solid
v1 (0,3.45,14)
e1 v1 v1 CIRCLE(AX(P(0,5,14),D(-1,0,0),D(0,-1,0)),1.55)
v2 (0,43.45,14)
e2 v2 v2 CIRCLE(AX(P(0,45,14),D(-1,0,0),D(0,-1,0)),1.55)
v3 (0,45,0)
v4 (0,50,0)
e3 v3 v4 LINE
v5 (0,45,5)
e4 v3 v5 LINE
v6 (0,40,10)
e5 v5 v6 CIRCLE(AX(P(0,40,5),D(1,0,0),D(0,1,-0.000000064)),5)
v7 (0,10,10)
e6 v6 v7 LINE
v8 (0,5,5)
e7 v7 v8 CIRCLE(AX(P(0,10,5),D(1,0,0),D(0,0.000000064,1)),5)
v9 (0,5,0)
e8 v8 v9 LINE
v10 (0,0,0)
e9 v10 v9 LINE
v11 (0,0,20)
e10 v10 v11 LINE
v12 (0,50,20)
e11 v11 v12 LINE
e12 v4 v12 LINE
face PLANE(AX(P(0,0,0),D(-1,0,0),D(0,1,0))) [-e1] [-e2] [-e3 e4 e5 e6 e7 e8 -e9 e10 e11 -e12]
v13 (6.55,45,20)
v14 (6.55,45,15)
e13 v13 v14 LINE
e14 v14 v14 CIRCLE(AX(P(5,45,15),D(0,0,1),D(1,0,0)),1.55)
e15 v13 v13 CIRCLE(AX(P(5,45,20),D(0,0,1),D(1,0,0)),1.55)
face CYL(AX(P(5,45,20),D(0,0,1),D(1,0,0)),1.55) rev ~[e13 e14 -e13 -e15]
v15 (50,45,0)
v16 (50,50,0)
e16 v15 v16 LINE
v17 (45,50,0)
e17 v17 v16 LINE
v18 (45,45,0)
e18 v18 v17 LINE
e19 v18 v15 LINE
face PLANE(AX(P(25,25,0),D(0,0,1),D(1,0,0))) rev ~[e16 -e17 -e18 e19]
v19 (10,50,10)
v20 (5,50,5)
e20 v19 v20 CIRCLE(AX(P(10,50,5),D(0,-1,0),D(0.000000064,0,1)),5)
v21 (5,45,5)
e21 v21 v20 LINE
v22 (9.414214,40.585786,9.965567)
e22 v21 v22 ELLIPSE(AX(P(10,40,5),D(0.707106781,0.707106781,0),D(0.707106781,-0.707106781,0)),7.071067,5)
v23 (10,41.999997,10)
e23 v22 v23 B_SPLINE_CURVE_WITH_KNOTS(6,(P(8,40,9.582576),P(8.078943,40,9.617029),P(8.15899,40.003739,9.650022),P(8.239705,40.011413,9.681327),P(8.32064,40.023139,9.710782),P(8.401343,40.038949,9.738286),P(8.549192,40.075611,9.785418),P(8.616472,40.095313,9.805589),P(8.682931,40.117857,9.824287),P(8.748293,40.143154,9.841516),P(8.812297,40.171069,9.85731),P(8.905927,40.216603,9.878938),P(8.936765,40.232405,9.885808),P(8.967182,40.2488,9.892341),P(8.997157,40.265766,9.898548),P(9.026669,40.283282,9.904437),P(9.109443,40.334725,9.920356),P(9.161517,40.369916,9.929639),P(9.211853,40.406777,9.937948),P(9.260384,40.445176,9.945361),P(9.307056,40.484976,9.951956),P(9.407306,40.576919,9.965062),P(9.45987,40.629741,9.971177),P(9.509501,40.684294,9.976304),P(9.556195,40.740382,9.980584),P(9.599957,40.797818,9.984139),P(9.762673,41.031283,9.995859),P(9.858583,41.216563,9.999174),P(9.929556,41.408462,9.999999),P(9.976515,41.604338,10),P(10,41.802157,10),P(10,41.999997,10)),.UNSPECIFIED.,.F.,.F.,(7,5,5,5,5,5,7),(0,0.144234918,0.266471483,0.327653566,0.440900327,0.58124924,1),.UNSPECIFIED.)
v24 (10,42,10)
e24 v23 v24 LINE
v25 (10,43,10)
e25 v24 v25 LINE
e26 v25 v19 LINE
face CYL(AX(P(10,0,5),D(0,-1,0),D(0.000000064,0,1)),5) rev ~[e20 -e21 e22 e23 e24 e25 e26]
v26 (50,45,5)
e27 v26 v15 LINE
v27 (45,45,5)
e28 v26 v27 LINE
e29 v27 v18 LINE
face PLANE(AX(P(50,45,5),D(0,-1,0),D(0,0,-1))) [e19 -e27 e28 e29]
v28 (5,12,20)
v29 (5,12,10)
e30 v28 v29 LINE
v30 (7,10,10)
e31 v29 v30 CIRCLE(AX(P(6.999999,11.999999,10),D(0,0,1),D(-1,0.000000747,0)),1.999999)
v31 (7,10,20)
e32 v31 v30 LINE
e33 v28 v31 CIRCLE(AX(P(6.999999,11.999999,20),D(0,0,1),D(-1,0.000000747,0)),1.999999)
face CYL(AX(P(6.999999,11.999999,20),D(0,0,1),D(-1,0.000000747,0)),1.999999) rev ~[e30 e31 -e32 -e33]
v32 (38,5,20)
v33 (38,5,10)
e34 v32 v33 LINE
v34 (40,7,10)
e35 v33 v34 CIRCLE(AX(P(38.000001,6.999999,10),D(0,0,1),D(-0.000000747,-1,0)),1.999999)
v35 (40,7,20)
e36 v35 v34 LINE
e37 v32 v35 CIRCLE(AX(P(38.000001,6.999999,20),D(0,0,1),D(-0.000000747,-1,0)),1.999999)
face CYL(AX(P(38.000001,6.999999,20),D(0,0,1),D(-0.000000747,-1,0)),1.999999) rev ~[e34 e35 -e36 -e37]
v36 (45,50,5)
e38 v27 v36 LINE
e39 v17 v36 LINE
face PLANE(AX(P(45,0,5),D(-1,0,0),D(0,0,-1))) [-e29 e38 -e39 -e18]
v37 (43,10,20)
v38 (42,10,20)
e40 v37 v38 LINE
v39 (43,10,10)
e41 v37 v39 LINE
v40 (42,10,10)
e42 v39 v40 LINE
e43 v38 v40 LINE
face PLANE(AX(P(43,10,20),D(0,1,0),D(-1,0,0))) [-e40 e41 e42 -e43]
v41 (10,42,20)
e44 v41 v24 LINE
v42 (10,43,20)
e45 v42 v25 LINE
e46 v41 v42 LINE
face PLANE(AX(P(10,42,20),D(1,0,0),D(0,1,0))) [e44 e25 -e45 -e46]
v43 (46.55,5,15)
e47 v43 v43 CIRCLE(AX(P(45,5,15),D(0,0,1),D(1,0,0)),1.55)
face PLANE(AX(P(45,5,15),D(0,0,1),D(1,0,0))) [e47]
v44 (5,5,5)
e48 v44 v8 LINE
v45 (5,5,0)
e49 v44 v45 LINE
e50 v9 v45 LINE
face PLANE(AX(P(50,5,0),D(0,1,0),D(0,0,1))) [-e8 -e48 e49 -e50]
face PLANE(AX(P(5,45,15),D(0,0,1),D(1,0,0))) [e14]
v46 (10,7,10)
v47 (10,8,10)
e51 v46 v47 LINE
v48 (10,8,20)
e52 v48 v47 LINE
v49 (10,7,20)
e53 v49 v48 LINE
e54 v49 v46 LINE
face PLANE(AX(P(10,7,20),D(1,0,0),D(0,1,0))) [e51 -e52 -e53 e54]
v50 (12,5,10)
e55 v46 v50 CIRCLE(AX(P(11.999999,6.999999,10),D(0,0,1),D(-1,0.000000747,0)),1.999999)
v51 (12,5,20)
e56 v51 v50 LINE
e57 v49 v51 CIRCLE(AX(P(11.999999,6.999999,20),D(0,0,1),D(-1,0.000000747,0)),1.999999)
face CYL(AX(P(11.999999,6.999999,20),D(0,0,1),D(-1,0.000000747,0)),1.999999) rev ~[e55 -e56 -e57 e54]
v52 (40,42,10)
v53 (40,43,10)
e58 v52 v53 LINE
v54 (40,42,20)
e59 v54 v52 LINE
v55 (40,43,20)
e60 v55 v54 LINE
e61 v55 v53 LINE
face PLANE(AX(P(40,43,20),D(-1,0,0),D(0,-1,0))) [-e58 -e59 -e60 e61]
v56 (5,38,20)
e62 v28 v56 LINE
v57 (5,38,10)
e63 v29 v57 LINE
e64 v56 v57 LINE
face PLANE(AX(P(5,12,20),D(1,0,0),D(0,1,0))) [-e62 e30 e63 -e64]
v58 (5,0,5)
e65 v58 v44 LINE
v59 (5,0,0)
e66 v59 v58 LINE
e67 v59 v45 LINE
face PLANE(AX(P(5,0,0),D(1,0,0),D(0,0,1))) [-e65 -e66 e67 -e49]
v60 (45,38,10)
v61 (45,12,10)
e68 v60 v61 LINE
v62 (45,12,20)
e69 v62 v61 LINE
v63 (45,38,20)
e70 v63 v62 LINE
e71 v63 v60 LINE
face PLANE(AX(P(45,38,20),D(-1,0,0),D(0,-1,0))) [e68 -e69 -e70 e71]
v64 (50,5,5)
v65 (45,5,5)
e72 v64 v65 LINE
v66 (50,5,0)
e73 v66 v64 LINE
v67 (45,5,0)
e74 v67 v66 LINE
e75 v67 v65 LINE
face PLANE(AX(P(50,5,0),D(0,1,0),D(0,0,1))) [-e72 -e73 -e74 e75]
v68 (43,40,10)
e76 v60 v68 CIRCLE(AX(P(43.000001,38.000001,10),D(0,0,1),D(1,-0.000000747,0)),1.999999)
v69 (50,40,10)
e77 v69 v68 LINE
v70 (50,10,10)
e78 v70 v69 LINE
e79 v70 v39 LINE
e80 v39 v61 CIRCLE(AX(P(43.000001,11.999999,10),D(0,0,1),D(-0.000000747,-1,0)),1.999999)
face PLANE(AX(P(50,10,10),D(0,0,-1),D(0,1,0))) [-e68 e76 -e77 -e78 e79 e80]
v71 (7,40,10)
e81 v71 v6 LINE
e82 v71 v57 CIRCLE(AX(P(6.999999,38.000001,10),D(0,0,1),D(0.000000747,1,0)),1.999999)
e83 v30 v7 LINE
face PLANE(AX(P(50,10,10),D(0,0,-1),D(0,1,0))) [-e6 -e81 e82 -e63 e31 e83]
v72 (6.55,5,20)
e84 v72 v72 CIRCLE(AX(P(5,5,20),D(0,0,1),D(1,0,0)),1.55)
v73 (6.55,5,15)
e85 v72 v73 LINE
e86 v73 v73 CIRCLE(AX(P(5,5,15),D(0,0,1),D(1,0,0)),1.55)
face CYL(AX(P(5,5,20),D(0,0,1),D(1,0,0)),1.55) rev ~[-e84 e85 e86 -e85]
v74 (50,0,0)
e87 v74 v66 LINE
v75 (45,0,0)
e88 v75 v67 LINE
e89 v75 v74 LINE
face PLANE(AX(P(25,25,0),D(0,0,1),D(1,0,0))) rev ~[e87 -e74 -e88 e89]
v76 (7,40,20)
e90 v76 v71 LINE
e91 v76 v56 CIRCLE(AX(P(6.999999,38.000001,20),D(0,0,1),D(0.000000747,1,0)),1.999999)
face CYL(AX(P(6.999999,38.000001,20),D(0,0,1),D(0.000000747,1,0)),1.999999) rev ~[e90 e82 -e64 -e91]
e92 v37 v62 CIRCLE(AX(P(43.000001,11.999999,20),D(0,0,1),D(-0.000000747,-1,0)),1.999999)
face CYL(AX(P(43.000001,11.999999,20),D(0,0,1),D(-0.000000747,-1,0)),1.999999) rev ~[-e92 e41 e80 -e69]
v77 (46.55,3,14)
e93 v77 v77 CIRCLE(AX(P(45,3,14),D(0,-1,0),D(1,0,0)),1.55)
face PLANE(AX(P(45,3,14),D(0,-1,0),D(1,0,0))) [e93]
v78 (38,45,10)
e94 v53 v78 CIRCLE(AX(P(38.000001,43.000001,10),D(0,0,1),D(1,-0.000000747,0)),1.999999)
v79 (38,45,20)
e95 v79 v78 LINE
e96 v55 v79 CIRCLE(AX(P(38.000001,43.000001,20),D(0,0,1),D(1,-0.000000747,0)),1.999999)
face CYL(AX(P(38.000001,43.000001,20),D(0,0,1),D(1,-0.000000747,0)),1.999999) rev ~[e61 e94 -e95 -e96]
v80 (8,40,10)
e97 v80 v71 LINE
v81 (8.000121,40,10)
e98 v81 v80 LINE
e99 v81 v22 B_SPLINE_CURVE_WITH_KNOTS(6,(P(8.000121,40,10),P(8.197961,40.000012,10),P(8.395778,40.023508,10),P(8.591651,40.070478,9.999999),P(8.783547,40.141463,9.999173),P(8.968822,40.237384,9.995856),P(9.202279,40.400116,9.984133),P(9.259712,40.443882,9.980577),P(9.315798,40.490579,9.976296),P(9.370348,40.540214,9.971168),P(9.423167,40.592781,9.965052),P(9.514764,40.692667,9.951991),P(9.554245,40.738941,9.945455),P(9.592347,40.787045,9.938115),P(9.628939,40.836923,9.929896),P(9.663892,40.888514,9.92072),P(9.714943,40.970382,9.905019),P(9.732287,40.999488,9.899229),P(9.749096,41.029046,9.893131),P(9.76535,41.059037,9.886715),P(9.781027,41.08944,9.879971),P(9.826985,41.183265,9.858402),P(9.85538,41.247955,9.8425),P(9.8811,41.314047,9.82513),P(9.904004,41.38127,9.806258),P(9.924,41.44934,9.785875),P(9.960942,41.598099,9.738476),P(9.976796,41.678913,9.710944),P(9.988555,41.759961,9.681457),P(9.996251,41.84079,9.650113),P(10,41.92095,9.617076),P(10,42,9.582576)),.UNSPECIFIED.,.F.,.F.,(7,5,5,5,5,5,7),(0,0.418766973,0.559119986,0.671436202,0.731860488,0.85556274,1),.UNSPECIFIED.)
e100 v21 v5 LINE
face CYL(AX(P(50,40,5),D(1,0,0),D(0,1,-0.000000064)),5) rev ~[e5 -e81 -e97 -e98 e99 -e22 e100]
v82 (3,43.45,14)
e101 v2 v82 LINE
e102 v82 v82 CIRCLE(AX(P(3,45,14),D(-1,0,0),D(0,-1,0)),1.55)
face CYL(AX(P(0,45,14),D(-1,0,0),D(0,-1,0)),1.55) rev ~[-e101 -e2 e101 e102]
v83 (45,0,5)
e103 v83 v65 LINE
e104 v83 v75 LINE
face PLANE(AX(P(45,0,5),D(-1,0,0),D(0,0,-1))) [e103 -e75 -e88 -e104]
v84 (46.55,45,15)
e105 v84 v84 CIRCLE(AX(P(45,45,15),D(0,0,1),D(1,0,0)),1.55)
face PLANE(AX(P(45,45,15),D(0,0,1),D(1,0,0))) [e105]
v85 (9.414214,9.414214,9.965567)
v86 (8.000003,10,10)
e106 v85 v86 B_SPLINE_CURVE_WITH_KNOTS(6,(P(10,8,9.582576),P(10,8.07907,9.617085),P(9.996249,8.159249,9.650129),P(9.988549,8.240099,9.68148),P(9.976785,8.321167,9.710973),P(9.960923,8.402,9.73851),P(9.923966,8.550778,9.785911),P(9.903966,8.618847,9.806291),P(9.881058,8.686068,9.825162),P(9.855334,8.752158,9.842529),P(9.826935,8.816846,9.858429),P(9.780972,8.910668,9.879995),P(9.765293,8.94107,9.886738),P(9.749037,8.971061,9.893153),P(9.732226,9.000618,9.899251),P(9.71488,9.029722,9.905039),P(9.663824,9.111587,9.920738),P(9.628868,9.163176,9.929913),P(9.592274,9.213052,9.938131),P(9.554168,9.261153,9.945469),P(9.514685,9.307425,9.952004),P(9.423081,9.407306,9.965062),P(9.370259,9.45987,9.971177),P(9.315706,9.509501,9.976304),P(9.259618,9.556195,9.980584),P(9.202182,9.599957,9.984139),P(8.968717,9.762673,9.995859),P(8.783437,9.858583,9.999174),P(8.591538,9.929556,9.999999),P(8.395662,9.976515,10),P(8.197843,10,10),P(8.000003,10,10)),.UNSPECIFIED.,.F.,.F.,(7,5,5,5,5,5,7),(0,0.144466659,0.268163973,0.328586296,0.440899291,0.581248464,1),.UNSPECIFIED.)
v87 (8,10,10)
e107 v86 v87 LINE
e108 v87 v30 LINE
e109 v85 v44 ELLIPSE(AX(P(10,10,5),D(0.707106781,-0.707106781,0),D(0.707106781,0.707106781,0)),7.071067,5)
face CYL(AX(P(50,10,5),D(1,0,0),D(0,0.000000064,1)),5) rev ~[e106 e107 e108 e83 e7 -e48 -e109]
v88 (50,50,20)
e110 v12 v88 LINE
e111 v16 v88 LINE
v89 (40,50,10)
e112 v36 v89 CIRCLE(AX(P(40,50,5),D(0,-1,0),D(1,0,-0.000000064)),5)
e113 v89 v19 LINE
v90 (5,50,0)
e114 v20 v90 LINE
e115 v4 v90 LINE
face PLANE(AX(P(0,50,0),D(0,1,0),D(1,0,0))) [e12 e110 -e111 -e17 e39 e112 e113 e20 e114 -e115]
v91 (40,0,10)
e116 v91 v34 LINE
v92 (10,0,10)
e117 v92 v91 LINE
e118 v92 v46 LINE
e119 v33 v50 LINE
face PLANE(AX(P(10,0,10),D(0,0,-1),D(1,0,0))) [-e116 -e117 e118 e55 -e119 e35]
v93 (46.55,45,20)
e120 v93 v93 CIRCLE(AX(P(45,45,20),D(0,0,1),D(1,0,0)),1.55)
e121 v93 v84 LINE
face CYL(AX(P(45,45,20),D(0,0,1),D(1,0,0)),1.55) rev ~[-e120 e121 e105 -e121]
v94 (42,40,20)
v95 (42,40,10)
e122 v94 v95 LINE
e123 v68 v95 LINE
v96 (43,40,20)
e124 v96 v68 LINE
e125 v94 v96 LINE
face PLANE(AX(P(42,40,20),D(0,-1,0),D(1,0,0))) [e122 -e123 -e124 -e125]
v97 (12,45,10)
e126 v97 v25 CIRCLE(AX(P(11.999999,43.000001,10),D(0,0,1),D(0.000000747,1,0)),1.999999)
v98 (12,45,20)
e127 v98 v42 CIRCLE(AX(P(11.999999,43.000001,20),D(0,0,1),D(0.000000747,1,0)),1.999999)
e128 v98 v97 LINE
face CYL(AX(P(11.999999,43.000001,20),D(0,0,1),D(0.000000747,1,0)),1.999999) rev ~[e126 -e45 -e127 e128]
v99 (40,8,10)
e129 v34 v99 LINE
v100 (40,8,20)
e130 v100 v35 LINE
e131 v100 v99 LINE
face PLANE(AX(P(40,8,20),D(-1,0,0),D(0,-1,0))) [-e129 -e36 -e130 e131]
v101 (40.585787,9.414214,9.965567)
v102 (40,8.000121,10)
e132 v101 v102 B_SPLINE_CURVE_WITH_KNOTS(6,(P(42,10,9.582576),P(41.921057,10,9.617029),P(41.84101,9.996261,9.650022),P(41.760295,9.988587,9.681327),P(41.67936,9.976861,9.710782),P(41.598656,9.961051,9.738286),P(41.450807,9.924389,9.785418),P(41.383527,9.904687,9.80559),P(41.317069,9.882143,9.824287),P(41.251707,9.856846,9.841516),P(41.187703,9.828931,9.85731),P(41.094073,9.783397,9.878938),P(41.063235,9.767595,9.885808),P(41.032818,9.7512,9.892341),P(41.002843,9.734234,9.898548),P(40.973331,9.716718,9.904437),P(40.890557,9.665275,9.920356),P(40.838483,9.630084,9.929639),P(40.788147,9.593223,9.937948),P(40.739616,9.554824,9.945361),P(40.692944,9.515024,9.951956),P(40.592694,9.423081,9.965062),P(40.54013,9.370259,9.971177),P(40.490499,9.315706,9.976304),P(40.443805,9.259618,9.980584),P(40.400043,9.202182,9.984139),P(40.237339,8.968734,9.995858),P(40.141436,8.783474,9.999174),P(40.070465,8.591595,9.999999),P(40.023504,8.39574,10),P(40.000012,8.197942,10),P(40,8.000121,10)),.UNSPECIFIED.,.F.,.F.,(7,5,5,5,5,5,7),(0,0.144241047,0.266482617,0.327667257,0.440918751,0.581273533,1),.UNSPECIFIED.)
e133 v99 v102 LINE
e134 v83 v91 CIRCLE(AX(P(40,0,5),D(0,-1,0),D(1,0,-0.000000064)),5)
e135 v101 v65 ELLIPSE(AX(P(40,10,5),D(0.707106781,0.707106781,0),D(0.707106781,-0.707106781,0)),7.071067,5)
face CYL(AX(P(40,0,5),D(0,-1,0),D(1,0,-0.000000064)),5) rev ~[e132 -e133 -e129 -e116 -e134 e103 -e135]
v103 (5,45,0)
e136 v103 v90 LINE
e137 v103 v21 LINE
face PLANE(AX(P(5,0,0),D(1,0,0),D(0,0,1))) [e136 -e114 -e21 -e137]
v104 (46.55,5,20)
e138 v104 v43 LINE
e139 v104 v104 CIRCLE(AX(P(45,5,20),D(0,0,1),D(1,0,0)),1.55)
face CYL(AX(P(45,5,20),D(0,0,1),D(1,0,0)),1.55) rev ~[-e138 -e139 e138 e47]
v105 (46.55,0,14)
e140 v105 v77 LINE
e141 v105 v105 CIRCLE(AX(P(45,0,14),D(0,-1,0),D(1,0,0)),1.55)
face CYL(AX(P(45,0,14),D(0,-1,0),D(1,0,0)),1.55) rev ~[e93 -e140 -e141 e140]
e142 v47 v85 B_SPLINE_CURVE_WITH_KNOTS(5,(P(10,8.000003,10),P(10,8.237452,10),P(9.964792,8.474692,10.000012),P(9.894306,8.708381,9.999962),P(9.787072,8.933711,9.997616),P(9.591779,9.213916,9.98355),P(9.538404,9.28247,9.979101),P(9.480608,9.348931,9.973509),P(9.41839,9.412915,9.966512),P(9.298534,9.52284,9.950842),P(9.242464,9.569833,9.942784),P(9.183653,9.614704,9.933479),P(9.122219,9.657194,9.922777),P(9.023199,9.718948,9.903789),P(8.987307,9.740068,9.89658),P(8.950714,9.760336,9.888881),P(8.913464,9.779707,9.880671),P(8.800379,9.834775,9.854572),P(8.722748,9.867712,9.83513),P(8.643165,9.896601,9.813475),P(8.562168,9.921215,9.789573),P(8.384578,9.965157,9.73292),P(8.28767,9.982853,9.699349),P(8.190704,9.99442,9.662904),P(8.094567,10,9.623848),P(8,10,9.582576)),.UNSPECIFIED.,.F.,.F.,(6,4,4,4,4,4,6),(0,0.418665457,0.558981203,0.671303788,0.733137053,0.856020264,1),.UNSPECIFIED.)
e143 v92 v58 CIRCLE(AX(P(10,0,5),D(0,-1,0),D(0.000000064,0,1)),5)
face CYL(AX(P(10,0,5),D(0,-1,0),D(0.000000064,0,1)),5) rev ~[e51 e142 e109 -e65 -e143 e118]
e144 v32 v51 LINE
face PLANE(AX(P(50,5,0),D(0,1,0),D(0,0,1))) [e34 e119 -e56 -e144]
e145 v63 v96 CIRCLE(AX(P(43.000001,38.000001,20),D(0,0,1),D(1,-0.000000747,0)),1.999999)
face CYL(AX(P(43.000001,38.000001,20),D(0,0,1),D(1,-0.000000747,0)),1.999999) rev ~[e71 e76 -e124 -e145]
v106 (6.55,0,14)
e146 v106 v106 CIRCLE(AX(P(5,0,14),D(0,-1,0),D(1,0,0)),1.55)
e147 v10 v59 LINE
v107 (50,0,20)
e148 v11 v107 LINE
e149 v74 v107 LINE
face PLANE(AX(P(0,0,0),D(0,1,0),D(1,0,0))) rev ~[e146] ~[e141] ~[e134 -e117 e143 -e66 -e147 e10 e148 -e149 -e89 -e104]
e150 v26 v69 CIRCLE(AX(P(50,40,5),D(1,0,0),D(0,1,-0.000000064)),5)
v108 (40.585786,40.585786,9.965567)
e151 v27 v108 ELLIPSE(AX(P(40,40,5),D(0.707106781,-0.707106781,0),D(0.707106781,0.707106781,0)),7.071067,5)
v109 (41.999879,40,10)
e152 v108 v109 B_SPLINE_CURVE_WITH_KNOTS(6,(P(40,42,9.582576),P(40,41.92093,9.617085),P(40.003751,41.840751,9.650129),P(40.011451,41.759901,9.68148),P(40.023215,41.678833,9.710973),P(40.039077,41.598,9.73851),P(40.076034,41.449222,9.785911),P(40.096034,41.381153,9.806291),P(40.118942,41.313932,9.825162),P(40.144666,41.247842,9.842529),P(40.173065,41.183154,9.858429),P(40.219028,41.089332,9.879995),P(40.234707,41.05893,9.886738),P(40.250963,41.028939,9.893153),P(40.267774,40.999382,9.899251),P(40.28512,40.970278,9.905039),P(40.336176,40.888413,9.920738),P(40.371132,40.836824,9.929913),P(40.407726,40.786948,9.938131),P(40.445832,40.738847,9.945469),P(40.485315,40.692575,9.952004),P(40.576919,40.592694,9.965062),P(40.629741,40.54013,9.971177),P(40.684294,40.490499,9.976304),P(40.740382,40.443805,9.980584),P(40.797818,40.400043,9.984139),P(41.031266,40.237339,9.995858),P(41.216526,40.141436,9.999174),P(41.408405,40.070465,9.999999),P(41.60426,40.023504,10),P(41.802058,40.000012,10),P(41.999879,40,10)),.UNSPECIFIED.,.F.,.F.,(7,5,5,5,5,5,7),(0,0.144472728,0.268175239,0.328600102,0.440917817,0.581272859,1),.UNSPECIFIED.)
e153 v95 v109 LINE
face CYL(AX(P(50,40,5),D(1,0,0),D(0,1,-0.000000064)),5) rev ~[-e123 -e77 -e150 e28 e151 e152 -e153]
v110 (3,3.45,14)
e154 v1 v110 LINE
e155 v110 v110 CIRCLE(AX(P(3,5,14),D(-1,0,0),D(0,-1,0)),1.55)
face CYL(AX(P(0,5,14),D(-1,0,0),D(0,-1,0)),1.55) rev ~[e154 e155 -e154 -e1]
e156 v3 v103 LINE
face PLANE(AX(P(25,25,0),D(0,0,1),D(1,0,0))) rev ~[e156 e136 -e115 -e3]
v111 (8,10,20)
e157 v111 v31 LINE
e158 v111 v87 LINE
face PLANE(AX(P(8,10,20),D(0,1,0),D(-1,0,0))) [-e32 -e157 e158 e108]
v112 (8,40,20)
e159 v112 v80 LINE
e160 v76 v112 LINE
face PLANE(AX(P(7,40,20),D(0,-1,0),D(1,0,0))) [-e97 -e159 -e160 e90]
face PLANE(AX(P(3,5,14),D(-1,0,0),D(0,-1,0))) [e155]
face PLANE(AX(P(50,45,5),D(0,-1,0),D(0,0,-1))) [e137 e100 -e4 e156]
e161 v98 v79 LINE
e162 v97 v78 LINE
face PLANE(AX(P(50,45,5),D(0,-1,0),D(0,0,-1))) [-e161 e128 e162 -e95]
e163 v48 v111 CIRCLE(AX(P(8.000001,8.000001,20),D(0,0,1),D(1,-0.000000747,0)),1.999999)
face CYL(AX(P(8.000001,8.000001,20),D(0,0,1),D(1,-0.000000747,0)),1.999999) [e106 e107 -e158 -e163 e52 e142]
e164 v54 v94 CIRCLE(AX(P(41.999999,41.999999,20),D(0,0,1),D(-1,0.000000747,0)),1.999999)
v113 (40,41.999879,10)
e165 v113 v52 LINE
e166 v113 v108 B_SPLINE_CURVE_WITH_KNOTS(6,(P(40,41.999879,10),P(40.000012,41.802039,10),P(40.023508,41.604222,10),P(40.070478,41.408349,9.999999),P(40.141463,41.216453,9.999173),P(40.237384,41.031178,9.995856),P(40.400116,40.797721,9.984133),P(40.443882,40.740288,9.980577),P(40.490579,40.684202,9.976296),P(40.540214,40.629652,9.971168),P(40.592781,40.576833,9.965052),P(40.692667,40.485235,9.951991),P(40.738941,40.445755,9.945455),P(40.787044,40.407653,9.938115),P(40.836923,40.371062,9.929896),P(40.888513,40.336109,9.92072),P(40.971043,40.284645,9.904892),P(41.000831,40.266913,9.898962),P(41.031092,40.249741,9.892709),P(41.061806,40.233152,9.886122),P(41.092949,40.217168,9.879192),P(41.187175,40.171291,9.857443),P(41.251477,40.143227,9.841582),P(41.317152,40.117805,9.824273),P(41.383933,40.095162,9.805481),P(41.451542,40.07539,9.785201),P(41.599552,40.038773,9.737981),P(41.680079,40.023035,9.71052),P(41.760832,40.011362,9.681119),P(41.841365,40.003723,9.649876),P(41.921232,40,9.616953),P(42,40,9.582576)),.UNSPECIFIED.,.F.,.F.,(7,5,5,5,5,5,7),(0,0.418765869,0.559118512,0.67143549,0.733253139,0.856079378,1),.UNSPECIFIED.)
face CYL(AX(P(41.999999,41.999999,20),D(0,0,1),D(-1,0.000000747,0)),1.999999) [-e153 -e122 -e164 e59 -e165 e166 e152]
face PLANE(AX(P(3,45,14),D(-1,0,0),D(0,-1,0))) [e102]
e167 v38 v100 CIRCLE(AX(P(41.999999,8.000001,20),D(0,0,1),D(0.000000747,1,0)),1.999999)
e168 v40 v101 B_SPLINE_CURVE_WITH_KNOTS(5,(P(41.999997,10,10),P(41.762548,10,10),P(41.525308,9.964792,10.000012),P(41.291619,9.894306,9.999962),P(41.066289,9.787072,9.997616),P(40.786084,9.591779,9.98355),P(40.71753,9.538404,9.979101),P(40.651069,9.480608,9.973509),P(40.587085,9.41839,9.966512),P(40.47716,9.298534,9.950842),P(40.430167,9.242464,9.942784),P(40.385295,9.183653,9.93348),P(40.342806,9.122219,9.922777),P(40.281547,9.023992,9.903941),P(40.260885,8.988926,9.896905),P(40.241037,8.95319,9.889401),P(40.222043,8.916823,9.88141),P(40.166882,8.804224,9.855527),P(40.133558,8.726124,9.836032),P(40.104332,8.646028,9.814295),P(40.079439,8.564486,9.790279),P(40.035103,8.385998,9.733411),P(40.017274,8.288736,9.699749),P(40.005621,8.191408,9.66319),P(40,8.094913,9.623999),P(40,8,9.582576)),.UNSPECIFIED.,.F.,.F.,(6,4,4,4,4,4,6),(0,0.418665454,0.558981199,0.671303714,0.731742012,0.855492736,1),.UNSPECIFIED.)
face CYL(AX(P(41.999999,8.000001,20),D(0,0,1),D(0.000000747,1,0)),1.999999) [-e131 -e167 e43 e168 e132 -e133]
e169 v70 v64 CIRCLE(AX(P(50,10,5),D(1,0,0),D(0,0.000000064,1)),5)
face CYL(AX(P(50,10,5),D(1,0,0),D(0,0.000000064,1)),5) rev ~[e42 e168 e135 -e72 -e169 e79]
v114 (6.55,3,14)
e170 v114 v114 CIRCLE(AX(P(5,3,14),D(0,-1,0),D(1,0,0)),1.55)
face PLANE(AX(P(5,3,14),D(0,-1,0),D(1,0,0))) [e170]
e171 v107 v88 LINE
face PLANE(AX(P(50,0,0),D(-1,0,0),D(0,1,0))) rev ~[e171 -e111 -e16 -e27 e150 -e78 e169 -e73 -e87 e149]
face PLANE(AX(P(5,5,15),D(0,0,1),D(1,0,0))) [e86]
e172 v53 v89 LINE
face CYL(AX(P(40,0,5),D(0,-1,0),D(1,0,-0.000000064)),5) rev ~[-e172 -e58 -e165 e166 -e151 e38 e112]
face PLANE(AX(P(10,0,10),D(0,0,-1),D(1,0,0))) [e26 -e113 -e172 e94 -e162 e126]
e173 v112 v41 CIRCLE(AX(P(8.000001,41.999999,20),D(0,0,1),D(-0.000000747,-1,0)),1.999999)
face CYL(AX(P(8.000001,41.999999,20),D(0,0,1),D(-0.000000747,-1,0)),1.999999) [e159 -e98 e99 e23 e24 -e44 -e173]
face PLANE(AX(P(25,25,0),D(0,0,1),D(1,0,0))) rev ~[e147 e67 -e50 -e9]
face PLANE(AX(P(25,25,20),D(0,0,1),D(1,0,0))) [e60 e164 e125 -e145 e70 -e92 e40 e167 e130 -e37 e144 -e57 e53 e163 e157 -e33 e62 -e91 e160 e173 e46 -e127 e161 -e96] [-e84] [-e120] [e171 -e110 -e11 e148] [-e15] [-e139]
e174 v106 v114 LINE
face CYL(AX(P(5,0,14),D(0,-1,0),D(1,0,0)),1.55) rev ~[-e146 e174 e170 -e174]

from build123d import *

# Parameters (mm, degrees)
SKETCH123_W     = 50
SKETCH123_H     = 50
PAD021_DEPTH    = 20
POCKET103_DEPTH = 20.001
POCKET104_DEPTH = 50.001
POCKET105_DEPTH = 50.001
SKETCH127_R     = 1.55
POCKET106_DEPTH = 5
SKETCH133_R     = 1.55
POCKET111_DEPTH = 3
SKETCH158_R     = 1.55
POCKET132_DEPTH = 3


with BuildPart() as part:
    # Sketch123 → Pad021 (new body)
    with BuildSketch(Plane.XY):
        Rectangle(SKETCH123_W, SKETCH123_H)
    extrude(amount=PAD021_DEPTH)

    # Sketch124 (on Face6 of Pad021) → Pocket103 (cut, through all)
    with BuildSketch(Plane.XY.offset(20)):
        with BuildLine():
            Line((-18, 15), (-17, 15))
            ThreePointArc((-17, 15), (-15.585786, 15.585786), (-15, 17))
            Line((-15, 17), (-15, 18))
            ThreePointArc((-13, 20), (-14.414214, 19.414214), (-15, 18))
            Line((-13, 20), (13, 20))
            ThreePointArc((15, 18), (14.414214, 19.414214), (13, 20))
            Line((15, 18), (15, 17))
            ThreePointArc((15, 17), (15.585786, 15.585786), (17, 15))
            Line((17, 15), (18, 15))
            ThreePointArc((20, 13), (19.414214, 14.414214), (18, 15))
            Line((20, 13), (20, -13))
            ThreePointArc((18, -15), (19.414214, -14.414214), (20, -13))
            Line((18, -15), (17, -15))
            ThreePointArc((17, -15), (15.585786, -15.585786), (15, -17))
            Line((15, -17), (15, -18))
            ThreePointArc((13, -20), (14.414214, -19.414214), (15, -18))
            Line((13, -20), (-13, -20))
            ThreePointArc((-15, -18), (-14.414214, -19.414214), (-13, -20))
            Line((-15, -18), (-15, -17))
            ThreePointArc((-15, -17), (-15.585786, -15.585786), (-17, -15))
            Line((-17, -15), (-18, -15))
            ThreePointArc((-20, -13), (-19.414214, -14.414214), (-18, -15))
            Line((-20, -13), (-20, 13))
            ThreePointArc((-18, 15), (-19.414214, 14.414214), (-20, 13))
        make_face()
    extrude(amount=-POCKET103_DEPTH, mode=Mode.SUBTRACT)

    # Sketch125 (on Face3 of Pocket103) → Pocket104 (cut, through all)
    with BuildSketch(Plane.YZ.offset(25)):
        with BuildLine():
            Line((-15, 10), (15, 10))
            ThreePointArc((20, 5), (18.535534, 8.535534), (15, 10))
            Line((20, 5), (20, 0))
            Line((20, 0), (-20, 0))
            Line((-20, 0), (-20, 5))
            ThreePointArc((-15, 10), (-18.535534, 8.535534), (-20, 5))
        make_face()
    extrude(amount=-POCKET104_DEPTH, mode=Mode.SUBTRACT)

    # Sketch126 (on Face6 of Pocket103) → Pocket105 (cut, through all)
    with BuildSketch(Plane.XZ.offset(25)):
        with BuildLine():
            Line((-15, 10), (15, 10))
            ThreePointArc((20, 5), (18.535534, 8.535534), (15, 10))
            Line((20, 5), (20, 0))
            Line((20, 0), (-20, 0))
            Line((-20, 0), (-20, 5))
            ThreePointArc((-15, 10), (-18.535534, 8.535534), (-20, 5))
        make_face()
    extrude(amount=-POCKET105_DEPTH, mode=Mode.SUBTRACT)

    # Sketch127 → Pocket106 (cut)
    with BuildSketch(Plane.XY.offset(20)):
        with Locations((-20, 20)):
            Circle(SKETCH127_R)
        with Locations((20, 20)):
            Circle(SKETCH127_R)
        with Locations((20, -20)):
            Circle(SKETCH127_R)
        with Locations((-20, -20)):
            Circle(SKETCH127_R)
    extrude(amount=-POCKET106_DEPTH, mode=Mode.SUBTRACT)

    # Sketch133 (on Face27 of Pocket106) → Pocket111 (cut)
    with BuildSketch(Plane.XZ.offset(25)):
        with Locations((-20, 14)):
            Circle(SKETCH133_R)
        with Locations((20, 14)):
            Circle(SKETCH133_R)
    extrude(amount=-POCKET111_DEPTH, mode=Mode.SUBTRACT)

    # Sketch158 (on Face11 of Pocket111) → Pocket132 (cut)
    with BuildSketch(Plane(origin=(-25, 0, 0), x_dir=(0, -1, 0), z_dir=(-1, 0, 0))):
        with Locations((-20, 14)):
            Circle(SKETCH158_R)
        with Locations((20, 14)):
            Circle(SKETCH158_R)
    extrude(amount=-POCKET132_DEPTH, mode=Mode.SUBTRACT)


with BuildPart() as part_1:
    # Body022 placement: moved
    add(part.part.moved(Location((25, 25, 0))))


solid = part_1.part
